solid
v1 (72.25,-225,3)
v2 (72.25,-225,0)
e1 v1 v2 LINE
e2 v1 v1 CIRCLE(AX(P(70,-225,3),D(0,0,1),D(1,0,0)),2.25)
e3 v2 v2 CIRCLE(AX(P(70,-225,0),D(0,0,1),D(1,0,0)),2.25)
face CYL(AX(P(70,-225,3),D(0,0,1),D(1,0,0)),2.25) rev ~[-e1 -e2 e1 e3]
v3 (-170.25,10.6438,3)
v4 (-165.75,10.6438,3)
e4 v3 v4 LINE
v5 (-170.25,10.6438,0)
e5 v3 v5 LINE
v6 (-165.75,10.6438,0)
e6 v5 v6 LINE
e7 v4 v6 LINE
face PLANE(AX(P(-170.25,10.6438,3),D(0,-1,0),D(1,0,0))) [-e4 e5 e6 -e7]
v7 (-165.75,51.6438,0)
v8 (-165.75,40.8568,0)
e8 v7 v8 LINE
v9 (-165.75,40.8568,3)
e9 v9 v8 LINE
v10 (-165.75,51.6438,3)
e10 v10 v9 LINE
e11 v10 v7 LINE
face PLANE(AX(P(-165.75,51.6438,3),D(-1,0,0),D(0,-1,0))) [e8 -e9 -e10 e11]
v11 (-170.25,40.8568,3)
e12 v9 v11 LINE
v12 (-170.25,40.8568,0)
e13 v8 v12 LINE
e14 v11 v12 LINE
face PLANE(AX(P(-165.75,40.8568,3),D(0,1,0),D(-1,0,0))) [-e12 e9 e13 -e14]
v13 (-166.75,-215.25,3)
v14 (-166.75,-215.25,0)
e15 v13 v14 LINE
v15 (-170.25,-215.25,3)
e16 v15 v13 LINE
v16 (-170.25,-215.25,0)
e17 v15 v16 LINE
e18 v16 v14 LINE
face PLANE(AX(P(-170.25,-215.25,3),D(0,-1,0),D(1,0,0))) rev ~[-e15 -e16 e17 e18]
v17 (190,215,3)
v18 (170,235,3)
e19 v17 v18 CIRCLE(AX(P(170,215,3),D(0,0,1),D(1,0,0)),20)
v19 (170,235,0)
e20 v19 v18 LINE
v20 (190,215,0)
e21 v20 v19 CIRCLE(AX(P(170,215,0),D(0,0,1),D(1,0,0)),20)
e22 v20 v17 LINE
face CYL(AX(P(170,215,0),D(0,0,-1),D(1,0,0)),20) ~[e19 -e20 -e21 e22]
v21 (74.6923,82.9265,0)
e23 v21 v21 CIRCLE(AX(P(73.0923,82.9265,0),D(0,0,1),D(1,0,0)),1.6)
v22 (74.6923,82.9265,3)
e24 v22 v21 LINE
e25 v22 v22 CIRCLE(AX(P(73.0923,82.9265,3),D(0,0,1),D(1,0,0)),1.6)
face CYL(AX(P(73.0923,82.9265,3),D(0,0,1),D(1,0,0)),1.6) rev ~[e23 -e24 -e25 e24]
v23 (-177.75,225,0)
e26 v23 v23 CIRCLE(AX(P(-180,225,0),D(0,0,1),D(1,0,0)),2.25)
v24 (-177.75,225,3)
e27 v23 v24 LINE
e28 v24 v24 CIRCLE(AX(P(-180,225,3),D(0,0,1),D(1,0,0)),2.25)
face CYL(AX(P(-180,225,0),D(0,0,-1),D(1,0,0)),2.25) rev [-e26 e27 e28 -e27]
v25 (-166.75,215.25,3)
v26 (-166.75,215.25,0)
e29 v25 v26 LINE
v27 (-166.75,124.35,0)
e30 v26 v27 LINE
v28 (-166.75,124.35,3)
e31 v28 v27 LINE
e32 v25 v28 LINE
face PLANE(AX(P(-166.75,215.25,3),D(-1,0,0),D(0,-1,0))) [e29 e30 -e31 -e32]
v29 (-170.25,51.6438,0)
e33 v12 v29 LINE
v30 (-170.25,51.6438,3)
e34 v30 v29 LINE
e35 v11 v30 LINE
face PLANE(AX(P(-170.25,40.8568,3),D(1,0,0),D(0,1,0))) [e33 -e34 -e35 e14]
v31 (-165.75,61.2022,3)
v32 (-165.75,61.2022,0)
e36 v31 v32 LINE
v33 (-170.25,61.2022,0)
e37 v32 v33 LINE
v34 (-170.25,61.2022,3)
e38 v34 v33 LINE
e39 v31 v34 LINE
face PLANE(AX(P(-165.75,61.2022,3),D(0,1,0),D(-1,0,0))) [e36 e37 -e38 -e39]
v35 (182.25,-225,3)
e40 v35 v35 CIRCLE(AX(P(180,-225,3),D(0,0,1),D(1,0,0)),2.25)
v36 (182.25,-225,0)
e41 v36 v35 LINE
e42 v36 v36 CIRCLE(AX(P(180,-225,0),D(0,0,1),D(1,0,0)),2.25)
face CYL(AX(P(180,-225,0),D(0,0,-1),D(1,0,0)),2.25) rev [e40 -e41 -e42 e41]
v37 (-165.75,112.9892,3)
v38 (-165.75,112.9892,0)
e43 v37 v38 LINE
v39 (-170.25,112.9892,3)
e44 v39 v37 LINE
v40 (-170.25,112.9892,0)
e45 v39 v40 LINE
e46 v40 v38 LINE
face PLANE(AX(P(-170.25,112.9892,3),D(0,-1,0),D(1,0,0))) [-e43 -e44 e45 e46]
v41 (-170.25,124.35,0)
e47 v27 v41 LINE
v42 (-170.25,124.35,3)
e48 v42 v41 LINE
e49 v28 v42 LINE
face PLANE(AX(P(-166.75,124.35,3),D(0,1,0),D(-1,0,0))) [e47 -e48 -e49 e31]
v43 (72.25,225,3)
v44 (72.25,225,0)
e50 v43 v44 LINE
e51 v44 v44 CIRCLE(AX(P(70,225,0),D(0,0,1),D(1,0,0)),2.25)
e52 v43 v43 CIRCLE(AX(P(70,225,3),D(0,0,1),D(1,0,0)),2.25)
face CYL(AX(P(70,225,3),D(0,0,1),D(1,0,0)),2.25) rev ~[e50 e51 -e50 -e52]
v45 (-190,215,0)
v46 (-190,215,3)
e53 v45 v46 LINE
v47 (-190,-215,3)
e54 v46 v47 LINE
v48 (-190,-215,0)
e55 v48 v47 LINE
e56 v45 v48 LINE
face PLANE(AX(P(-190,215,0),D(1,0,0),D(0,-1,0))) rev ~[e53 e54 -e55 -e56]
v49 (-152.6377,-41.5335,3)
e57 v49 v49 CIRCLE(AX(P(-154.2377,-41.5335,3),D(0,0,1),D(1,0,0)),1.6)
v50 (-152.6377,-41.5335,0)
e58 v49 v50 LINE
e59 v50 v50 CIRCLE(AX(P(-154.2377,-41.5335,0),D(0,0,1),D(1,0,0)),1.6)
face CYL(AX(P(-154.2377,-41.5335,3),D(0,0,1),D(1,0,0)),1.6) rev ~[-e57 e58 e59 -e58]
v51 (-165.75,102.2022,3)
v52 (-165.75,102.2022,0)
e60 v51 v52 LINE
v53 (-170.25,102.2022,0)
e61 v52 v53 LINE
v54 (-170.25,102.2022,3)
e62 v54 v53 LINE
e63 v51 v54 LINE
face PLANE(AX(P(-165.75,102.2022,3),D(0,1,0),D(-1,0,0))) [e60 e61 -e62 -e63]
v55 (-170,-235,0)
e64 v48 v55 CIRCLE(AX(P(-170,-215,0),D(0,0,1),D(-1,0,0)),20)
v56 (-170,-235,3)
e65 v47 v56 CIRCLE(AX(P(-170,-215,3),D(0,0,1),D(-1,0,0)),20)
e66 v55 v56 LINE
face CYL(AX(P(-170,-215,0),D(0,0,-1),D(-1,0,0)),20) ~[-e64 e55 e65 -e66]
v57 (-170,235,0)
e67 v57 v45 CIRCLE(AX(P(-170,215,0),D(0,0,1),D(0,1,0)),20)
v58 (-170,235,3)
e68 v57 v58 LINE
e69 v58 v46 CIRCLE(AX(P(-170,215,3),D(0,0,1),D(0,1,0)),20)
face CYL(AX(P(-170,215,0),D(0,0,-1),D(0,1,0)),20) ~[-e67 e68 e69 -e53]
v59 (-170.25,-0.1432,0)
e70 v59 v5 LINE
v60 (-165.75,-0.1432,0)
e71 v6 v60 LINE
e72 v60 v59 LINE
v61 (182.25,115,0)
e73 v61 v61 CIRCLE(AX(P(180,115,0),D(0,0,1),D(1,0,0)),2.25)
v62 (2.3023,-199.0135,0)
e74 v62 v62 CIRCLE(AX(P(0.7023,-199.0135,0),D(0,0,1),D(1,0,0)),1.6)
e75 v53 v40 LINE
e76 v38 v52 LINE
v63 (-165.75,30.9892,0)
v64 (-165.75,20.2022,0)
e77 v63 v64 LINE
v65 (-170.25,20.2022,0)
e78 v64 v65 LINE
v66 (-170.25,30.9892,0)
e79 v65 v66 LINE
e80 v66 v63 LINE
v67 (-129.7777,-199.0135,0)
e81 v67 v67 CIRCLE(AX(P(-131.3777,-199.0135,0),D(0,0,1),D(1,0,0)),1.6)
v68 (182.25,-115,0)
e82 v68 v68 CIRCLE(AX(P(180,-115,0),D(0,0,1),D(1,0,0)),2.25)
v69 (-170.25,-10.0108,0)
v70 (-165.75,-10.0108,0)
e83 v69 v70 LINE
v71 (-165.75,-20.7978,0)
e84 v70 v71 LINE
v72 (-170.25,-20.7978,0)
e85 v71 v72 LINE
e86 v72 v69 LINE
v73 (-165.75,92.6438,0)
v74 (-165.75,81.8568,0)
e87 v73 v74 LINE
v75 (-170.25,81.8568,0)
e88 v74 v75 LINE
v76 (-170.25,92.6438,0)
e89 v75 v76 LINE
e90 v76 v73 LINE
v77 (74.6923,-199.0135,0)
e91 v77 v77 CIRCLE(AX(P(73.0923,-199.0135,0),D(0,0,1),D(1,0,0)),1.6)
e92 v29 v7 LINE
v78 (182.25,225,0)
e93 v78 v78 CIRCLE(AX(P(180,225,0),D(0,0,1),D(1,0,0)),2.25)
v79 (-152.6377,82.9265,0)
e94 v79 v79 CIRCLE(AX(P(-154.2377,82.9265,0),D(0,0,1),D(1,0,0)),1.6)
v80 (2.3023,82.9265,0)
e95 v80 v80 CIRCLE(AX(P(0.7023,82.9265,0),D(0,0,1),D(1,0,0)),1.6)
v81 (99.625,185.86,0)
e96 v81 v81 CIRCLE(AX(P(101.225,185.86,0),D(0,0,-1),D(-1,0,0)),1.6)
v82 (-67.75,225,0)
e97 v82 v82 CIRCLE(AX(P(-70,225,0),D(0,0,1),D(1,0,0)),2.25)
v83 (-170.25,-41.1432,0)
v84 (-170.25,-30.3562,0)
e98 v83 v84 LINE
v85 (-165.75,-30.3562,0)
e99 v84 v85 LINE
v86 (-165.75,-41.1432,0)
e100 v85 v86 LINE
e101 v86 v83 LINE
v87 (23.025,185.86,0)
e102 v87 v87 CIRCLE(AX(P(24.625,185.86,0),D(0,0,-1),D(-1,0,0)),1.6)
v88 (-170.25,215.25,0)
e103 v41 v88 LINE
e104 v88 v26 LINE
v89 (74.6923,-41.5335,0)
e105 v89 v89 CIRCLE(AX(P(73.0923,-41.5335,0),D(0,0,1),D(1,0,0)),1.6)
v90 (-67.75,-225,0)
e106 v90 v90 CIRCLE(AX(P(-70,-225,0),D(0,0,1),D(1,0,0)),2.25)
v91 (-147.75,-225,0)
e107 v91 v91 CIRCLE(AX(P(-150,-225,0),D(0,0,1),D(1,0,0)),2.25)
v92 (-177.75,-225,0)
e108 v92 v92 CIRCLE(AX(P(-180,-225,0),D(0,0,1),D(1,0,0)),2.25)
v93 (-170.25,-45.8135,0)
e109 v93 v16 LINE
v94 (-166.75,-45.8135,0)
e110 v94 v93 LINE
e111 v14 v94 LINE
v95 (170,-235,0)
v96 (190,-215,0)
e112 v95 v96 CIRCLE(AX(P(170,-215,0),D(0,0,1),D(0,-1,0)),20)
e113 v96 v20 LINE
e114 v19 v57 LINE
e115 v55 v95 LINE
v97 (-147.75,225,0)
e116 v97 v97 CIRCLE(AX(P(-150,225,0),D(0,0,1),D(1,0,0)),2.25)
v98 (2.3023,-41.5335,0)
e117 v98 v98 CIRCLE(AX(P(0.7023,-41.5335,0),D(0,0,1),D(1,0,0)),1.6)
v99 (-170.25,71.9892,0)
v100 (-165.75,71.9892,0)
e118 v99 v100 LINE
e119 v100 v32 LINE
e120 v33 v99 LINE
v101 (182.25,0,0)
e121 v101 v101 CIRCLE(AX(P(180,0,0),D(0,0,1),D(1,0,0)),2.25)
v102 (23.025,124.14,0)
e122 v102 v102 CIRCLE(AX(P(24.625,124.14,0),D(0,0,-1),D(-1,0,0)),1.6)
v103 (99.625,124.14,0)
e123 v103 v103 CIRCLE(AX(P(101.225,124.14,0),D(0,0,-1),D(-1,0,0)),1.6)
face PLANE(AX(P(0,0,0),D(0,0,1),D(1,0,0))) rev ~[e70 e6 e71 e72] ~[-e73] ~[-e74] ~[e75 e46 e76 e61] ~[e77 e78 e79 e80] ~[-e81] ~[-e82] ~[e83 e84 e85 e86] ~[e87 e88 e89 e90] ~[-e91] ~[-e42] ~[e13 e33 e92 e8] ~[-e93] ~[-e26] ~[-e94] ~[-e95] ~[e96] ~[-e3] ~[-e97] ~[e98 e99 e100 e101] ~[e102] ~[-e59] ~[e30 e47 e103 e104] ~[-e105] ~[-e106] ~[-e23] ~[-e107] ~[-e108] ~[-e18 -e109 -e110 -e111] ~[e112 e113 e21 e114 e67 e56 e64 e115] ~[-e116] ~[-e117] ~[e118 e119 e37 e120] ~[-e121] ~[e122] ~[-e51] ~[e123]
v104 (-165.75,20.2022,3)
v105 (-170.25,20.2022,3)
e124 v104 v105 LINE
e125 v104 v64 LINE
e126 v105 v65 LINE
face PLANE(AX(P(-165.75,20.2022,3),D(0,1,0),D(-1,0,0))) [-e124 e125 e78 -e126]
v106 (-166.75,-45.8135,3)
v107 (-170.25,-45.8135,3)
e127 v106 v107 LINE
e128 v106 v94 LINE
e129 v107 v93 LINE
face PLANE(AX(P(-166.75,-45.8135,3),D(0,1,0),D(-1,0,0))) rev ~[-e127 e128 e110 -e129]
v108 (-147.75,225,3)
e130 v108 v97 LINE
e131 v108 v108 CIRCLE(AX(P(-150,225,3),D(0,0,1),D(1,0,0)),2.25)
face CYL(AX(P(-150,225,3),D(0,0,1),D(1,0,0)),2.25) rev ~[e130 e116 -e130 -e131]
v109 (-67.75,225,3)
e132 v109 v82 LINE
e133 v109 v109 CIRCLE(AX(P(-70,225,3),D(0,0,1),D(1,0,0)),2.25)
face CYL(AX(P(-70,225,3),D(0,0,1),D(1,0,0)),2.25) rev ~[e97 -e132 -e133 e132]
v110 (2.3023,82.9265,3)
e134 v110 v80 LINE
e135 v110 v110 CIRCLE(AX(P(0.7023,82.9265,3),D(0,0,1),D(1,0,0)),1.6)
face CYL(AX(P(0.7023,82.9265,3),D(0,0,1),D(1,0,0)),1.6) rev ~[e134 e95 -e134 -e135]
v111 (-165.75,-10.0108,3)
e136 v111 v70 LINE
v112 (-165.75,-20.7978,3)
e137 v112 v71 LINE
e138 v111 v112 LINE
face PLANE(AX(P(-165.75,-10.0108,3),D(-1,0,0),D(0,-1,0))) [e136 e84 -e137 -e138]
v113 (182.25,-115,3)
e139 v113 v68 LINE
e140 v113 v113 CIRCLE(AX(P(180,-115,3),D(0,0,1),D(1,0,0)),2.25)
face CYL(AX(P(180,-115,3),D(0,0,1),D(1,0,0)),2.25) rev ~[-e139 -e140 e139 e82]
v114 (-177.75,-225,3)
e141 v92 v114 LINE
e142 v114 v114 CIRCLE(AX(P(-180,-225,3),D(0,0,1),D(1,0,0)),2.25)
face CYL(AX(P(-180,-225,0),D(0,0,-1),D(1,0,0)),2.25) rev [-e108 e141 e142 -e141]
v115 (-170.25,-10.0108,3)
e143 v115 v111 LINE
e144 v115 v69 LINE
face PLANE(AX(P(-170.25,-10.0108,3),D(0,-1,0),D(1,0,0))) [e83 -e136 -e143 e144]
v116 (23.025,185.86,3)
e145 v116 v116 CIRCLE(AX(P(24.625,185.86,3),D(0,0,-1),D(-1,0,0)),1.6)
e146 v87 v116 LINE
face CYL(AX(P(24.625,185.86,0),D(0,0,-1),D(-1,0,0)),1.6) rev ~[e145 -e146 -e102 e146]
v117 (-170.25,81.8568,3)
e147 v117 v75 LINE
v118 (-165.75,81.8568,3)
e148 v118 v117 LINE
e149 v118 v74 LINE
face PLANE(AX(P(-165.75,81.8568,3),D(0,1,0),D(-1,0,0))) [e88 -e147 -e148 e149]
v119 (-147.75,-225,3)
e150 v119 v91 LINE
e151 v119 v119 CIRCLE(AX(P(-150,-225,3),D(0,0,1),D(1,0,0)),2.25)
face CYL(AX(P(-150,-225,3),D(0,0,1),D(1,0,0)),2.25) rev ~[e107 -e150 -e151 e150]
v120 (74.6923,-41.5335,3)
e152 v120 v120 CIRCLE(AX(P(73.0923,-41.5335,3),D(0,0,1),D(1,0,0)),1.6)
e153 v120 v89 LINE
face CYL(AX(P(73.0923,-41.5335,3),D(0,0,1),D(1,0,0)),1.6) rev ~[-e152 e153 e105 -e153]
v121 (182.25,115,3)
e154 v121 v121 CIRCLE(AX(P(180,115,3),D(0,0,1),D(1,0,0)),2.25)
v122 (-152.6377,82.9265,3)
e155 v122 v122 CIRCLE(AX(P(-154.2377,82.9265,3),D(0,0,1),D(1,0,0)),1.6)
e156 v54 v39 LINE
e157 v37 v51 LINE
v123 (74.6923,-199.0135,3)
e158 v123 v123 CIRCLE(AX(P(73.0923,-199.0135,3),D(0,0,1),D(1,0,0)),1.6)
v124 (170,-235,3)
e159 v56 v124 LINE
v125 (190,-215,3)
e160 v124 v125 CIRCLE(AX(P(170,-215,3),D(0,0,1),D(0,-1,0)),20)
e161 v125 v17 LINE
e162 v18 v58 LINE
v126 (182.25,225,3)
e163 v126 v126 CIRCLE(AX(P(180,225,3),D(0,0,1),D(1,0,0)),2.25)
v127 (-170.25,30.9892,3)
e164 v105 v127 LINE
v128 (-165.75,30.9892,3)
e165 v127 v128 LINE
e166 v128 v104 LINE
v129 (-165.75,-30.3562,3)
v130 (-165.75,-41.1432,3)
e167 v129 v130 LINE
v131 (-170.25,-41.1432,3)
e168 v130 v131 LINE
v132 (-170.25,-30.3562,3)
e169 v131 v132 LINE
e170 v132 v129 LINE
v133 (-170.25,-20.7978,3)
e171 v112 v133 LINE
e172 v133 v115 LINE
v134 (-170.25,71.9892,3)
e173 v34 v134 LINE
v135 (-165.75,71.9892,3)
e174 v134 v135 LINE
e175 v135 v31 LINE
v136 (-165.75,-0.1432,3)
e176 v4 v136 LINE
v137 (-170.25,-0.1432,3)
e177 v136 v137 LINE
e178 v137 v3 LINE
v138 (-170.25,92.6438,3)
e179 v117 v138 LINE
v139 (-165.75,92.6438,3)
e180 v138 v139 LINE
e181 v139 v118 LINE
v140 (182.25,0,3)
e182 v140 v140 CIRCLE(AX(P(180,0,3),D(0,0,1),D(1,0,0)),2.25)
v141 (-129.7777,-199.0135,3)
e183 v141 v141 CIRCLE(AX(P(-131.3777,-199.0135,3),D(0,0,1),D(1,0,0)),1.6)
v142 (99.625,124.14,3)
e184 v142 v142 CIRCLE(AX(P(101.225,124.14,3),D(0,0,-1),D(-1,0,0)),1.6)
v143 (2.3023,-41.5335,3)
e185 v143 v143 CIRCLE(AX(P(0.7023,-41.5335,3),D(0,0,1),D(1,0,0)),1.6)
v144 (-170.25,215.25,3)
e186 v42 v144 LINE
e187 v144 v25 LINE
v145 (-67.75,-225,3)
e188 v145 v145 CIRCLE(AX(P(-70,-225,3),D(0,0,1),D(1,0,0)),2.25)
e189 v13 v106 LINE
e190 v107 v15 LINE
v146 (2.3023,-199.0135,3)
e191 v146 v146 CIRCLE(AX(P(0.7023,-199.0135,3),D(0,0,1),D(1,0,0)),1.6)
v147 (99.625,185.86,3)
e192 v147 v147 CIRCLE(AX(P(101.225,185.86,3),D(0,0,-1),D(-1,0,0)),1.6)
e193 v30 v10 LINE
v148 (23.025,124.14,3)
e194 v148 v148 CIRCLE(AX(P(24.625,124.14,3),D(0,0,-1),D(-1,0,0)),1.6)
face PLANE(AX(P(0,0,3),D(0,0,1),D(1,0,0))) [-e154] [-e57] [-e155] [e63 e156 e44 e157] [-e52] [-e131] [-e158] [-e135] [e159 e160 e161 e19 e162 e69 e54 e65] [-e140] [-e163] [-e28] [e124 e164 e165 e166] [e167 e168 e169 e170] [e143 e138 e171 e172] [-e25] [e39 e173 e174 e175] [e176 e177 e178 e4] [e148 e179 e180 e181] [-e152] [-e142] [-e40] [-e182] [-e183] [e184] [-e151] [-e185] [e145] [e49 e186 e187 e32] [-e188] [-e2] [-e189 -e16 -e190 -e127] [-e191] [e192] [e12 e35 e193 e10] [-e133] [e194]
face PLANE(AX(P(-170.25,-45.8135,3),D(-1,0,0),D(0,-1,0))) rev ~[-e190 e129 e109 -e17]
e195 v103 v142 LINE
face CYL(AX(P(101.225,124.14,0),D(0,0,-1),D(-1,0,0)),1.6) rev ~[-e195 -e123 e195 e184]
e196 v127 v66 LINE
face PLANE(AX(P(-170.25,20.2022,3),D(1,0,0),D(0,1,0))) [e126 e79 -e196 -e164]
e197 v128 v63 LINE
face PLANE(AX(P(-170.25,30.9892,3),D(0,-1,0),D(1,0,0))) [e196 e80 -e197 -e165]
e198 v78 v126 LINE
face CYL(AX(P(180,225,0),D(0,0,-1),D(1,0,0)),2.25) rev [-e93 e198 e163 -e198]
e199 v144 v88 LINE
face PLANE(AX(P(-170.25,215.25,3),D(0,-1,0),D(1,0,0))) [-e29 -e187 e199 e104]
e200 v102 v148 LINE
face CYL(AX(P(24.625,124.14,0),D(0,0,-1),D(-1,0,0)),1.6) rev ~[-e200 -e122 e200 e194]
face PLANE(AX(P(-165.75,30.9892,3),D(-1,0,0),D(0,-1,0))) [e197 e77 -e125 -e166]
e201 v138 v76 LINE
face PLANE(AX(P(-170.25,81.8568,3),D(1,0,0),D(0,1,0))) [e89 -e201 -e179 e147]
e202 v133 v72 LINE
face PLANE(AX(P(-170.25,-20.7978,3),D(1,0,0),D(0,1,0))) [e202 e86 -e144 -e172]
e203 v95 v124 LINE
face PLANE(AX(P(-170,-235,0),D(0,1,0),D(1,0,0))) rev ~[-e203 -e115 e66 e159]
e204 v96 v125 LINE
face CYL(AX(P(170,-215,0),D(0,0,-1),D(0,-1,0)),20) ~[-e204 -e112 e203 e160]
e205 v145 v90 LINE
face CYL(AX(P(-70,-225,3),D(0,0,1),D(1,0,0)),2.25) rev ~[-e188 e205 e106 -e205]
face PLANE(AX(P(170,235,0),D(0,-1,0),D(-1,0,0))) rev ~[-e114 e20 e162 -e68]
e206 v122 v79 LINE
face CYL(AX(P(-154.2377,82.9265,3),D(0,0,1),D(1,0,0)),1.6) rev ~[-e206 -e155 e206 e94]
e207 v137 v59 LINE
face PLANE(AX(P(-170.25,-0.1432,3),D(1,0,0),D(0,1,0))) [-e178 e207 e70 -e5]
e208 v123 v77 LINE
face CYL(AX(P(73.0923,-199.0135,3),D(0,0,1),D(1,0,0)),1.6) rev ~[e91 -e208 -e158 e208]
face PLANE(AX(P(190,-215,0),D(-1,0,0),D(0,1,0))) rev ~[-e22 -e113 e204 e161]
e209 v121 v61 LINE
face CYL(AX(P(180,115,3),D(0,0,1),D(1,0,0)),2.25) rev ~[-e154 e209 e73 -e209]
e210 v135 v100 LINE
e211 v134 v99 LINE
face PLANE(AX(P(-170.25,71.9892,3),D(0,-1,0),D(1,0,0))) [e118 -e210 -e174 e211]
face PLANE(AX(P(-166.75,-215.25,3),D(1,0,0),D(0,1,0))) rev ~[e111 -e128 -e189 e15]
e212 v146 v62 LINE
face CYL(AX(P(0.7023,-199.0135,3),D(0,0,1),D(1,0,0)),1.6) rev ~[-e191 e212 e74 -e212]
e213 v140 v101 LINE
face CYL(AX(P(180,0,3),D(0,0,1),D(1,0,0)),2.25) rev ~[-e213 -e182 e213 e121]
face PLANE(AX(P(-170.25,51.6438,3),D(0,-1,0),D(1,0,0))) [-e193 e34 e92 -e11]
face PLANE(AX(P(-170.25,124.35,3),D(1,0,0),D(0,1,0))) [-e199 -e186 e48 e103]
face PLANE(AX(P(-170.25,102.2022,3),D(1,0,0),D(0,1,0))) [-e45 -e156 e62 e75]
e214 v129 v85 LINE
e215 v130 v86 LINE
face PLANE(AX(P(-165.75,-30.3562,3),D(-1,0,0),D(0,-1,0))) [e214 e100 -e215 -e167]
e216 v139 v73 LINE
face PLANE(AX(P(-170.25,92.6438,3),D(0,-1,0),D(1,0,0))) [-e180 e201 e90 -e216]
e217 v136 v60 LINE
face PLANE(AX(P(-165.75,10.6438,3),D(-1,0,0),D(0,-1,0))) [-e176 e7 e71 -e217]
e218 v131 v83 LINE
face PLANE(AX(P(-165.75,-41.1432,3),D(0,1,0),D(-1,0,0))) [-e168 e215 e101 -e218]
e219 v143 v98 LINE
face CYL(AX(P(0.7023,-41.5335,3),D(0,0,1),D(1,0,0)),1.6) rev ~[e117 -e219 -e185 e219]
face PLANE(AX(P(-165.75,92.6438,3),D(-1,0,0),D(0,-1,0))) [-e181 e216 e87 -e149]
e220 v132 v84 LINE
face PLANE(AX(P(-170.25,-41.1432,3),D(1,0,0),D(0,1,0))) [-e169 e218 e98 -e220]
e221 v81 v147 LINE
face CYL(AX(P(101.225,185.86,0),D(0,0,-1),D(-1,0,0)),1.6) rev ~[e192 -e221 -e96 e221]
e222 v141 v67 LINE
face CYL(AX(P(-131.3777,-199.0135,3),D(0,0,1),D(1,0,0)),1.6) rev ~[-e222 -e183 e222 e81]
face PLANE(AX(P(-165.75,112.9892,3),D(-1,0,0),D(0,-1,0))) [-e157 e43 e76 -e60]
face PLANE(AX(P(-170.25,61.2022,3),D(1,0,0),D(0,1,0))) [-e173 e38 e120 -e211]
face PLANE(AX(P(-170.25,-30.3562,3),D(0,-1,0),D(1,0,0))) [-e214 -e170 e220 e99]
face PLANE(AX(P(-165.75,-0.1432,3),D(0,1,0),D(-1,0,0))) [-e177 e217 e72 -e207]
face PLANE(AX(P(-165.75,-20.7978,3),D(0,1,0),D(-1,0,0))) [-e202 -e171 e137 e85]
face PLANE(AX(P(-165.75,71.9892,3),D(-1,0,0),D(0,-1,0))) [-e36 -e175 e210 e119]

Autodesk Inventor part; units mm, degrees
ref_plane "YZ Plane" through (0, 0, 0) normal (1, 0, 0) x (0, 1, 0)
ref_plane "XZ Plane" through (0, 0, 0) normal (0, 1, 0) x (-1, 0, 0)
ref_plane "XY Plane" through (0, 0, 0) normal (0, 0, 1) x (1, 0, 0)
sketch "スケッチ1" plane through (0, 0, 0) normal (0, 0, 1) x (1, 0, 0)
  line L0 (-170, -235) -> (170, -235)
  line L1 (190, -215) -> (190, 215)
  line L2 (170, 235) -> (-170, 235)
  line L3 (-190, 215) -> (-190, -215)
  line L4 (-190, -235) -> (190, 235) construction
  line L5 (190, -235) -> (-190, 235) construction
  circle A0 centre (-180, 225) radius 2.25
  circle A1 centre (180, 225) radius 2.25
  circle A2 centre (-180, -225) radius 2.25
  circle A3 centre (180, -225) radius 2.25
  arc A4 (-170, 235) -> (-190, 215) centre (-170, 215) ccw
  arc A5 (190, 215) -> (170, 235) centre (170, 215) ccw
  arc A6 (170, -235) -> (190, -215) centre (170, -215) ccw
  arc A7 (-190, -215) -> (-170, -235) centre (-170, -215) ccw
  point P0 (0, 0)
  dimension "d0" = 380
  dimension "d1" = 470
  dimension "d2" = 4.5
  dimension "d3" = 10
  dimension "d4" = 10
  dimension "d5" = 10
  dimension "d6" = 10
  dimension "d7" = 10
  dimension "d8" = 10
  dimension "d9" = 10
  dimension "d10" = 10
  dimension "d11" = 20
extrude "押し出し1" add sketch "スケッチ1" along normal blind 3
sketch "スケッチ2" plane through (0, 0, 3) normal (0, 0, 1) x (1, 0, 0)
  circle A0 centre (73.0923, -199.0135) radius 2.25 construction
  circle A1 centre (-131.3777, -199.0135) radius 2.25 construction
  circle A2 centre (73.0923, -41.5335) radius 2.25 construction
  circle A3 centre (73.0923, 82.9265) radius 2.25 construction
  circle A4 centre (0.7023, -199.0135) radius 2.25 construction
  circle A5 centre (0.7023, -41.5335) radius 2.25 construction
  circle A6 centre (0.7023, 82.9265) radius 2.25 construction
  circle A7 centre (-154.2377, -41.5335) radius 2.25 construction
  circle A8 centre (-154.2377, 82.9265) radius 2.25 construction
  circle A9 centre (73.0923, 82.9265) radius 1.6
  circle A10 centre (0.7023, 82.9265) radius 1.6
  circle A11 centre (-154.2377, 82.9265) radius 1.6
  circle A12 centre (-154.2377, -41.5335) radius 1.6
  circle A13 centre (-131.3777, -199.0135) radius 1.6
  circle A14 centre (0.7023, -199.0135) radius 1.6
  circle A15 centre (73.0923, -199.0135) radius 1.6
  circle A16 centre (73.0923, -41.5335) radius 1.6
  circle A17 centre (0.7023, -41.5335) radius 1.6
  point P0 (0, 0)
  dimension "d14" = 3.2
extrude "押し出し2" cut sketch "スケッチ2" against normal blind 3
sketch "スケッチ4" plane through (0, 0, 3) normal (0, 0, 1) x (1, 0, 0)
  line L0 (-170, -215) -> (-170, -46.0635) projected
  line L1 (-170, -215) -> (-167, -215) projected
  line L2 (-167, -46.0635) -> (-167, -215) projected
  line L3 (-170, -46.0635) -> (-167, -46.0635) projected
  line L4 (-170, -40.8932) -> (-170, -30.6062) projected
  line L5 (-170, -40.8932) -> (-167, -40.8932) projected
  line L6 (-167, -30.6062) -> (-167, -40.8932) projected
  line L7 (-170, -30.6062) -> (-167, -30.6062) projected
  line L8 (-170, -20.5478) -> (-170, -10.2608) projected
  line L9 (-170, -20.5478) -> (-167, -20.5478) projected
  line L10 (-167, -10.2608) -> (-167, -20.5478) projected
  line L11 (-170, -10.2608) -> (-167, -10.2608) projected
  line L12 (-170, 0.1068) -> (-170, 10.3938) projected
  line L13 (-170, 0.1068) -> (-167, 0.1068) projected
  line L14 (-167, 10.3938) -> (-167, 0.1068) projected
  line L15 (-170, 10.3938) -> (-167, 10.3938) projected
  line L16 (-170, 20.4522) -> (-170, 30.7392) projected
  line L17 (-170, 20.4522) -> (-167, 20.4522) projected
  line L18 (-167, 30.7392) -> (-167, 20.4522) projected
  line L19 (-170, 30.7392) -> (-167, 30.7392) projected
  line L20 (-170, 41.1068) -> (-170, 51.3938) projected
  line L21 (-170, 41.1068) -> (-167, 41.1068) projected
  line L22 (-167, 51.3938) -> (-167, 41.1068) projected
  line L23 (-170, 51.3938) -> (-167, 51.3938) projected
  line L24 (-170, 61.4522) -> (-170, 71.7392) projected
  line L25 (-170, 61.4522) -> (-167, 61.4522) projected
  line L26 (-167, 71.7392) -> (-167, 61.4522) projected
  line L27 (-170, 71.7392) -> (-167, 71.7392) projected
  line L28 (-170, 82.1068) -> (-170, 92.3938) projected
  line L29 (-170, 82.1068) -> (-167, 82.1068) projected
  line L30 (-167, 92.3938) -> (-167, 82.1068) projected
  line L31 (-170, 92.3938) -> (-167, 92.3938) projected
  line L32 (-170, 102.4522) -> (-170, 112.7392) projected
  line L33 (-170, 102.4522) -> (-167, 102.4522) projected
  line L34 (-167, 112.7392) -> (-167, 102.4522) projected
  line L35 (-170, 112.7392) -> (-167, 112.7392) projected
  line L36 (-170, 215) -> (-170, 124.6) projected
  line L37 (-170, 124.6) -> (-167, 124.6) projected
  line L38 (-167, 215) -> (-167, 124.6) projected
  line L39 (-170, 215) -> (-167, 215) projected
  line L40 (-167, 112.7392) -> (-166, 112.7392)
  line L41 (-166, 112.7392) -> (-166, 102.4522)
  line L42 (-166, 102.4522) -> (-167, 102.4522)
  line L43 (-167, 92.3938) -> (-166, 92.3938)
  line L44 (-166, 92.3938) -> (-166, 82.1068)
  line L45 (-166, 82.1068) -> (-167, 82.1068)
  line L46 (-167, 71.7392) -> (-166, 71.7392)
  line L47 (-166, 71.7392) -> (-166, 61.4522)
  line L48 (-166, 61.4522) -> (-167, 61.4522)
  line L49 (-167, 51.3938) -> (-166, 51.3938)
  line L50 (-166, 51.3938) -> (-166, 41.1068)
  line L51 (-166, 41.1068) -> (-167, 41.1068)
  line L52 (-167, 30.7392) -> (-166, 30.7392)
  line L53 (-166, 30.7392) -> (-166, 20.4522)
  line L54 (-166, 20.4522) -> (-167, 20.4522)
  line L55 (-167, 10.3938) -> (-166, 10.3938)
  line L56 (-166, 10.3938) -> (-166, 0.1068)
  line L57 (-166, 0.1068) -> (-167, 0.1068)
  line L58 (-167, -10.2608) -> (-166, -10.2608)
  line L59 (-166, -10.2608) -> (-166, -20.5478)
  line L60 (-166, -20.5478) -> (-167, -20.5478)
  line L61 (-167, -30.6062) -> (-166, -30.6062)
  line L62 (-166, -30.6062) -> (-166, -40.8932)
  line L63 (-166, -40.8932) -> (-167, -40.8932)
  point P0 (0, 0)
  dimension "d17" = 1
extrude "押し出し3" cut sketch "スケッチ4" against normal blind 3
sketch "スケッチ5" plane through (0, 0, 3) normal (0, 0, 1) x (1, 0, 0)
  circle A0 centre (-180, 225) radius 2.25 construction
  circle A1 centre (-180, -225) radius 2.25 construction
  circle A2 centre (-150, -225) radius 2.25
  line L0 (-170, -235) -> (170, -235) projected
  circle A3 centre (-150, 225) radius 2.25
  line L1 (170, 235) -> (-170, 235) projected
  point P0 (0, 0)
  dimension "d20" = 30
  dimension "d21" = 10
  dimension "d22" = 30
  dimension "d23" = 10
extrude "押し出し4" cut sketch "スケッチ5" against normal blind 3
sketch "スケッチ6" plane through (0, 0, 3) normal (0, 0, 1) x (1, 0, 0)
  circle A0 centre (-150, -225) radius 2.25 construction
  circle A1 centre (-150, 225) radius 2.25 construction
  line L0 (-167, 124.6) -> (-170, 124.6) construction
  line L1 (-170, 124.6) -> (-170, 215) construction
  line L2 (-170, 215) -> (-167, 215) construction
  line L3 (-167, 215) -> (-167, 124.6) construction
  line L4 (-166, 92.3938) -> (-166, 82.1068) construction
  line L5 (-166, 82.1068) -> (-170, 82.1068) construction
  line L6 (-170, 82.1068) -> (-170, 92.3938) construction
  line L7 (-170, 92.3938) -> (-166, 92.3938) construction
  line L8 (-166, 51.3938) -> (-166, 41.1068) construction
  line L9 (-166, 41.1068) -> (-170, 41.1068) construction
  line L10 (-170, 41.1068) -> (-170, 51.3938) construction
  line L11 (-170, 51.3938) -> (-166, 51.3938) construction
  line L12 (-166, 10.3938) -> (-166, 0.1068) construction
  line L13 (-166, 0.1068) -> (-170, 0.1068) construction
  line L14 (-170, 0.1068) -> (-170, 10.3938) construction
  line L15 (-170, 10.3938) -> (-166, 10.3938) construction
  line L16 (-166, -30.6062) -> (-166, -40.8932) construction
  line L17 (-166, -40.8932) -> (-170, -40.8932) construction
  line L18 (-170, -40.8932) -> (-170, -30.6062) construction
  line L19 (-170, -30.6062) -> (-166, -30.6062) construction
  line L20 (-166, -10.2608) -> (-166, -20.5478) construction
  line L21 (-166, -20.5478) -> (-170, -20.5478) construction
  line L22 (-170, -20.5478) -> (-170, -10.2608) construction
  line L23 (-170, -10.2608) -> (-166, -10.2608) construction
  line L24 (-166, 30.7392) -> (-166, 20.4522) construction
  line L25 (-166, 20.4522) -> (-170, 20.4522) construction
  line L26 (-170, 20.4522) -> (-170, 30.7392) construction
  line L27 (-170, 30.7392) -> (-166, 30.7392) construction
  line L28 (-166, 71.7392) -> (-166, 61.4522) construction
  line L29 (-166, 61.4522) -> (-170, 61.4522) construction
  line L30 (-170, 61.4522) -> (-170, 71.7392) construction
  line L31 (-170, 71.7392) -> (-166, 71.7392) construction
  line L32 (-166, 112.7392) -> (-166, 102.4522) construction
  line L33 (-166, 102.4522) -> (-170, 102.4522) construction
  line L34 (-170, 102.4522) -> (-170, 112.7392) construction
  line L35 (-170, 112.7392) -> (-166, 112.7392) construction
  line L36 (-167, -215) -> (-170, -215) construction
  line L37 (-170, -215) -> (-170, -46.0635) construction
  line L38 (-170, -46.0635) -> (-167, -46.0635) construction
  line L39 (-167, -46.0635) -> (-167, -215) construction
  circle A2 centre (73.0923, -41.5335) radius 1.6 construction
  circle A3 centre (0.7023, -199.0135) radius 1.6 construction
  circle A4 centre (-154.2377, -41.5335) radius 1.6 construction
  circle A5 centre (0.7023, 82.9265) radius 1.6 construction
  circle A6 centre (73.0923, 82.9265) radius 1.6 construction
  circle A7 centre (-154.2377, 82.9265) radius 1.6 construction
  circle A8 centre (-131.3777, -199.0135) radius 1.6 construction
  circle A9 centre (73.0923, -199.0135) radius 1.6 construction
  circle A10 centre (0.7023, -41.5335) radius 1.6 construction
  circle A11 centre (180, -225) radius 2.25 construction
  circle A12 centre (-180, -225) radius 2.25 construction
  circle A13 centre (180, 225) radius 2.25 construction
  circle A14 centre (-180, 225) radius 2.25 construction
  line L40 (170, 235) -> (-170, 235) construction
  arc A15 (-170, 235) -> (-190, 215) centre (-170, 215) ccw construction
  line L41 (-190, 215) -> (-190, -215) construction
  arc A16 (-190, -215) -> (-170, -235) centre (-170, -215) ccw construction
  line L42 (-170, -235) -> (170, -235) construction
  arc A17 (170, -235) -> (190, -215) centre (170, -215) ccw construction
  line L43 (190, -215) -> (190, 215) construction
  arc A18 (190, 215) -> (170, 235) centre (170, 215) ccw construction
  line L44 (-166.75, 124.35) -> (-170.25, 124.35)
  line L45 (-170.25, 124.35) -> (-170.25, 215.25)
  line L46 (-170.25, 215.25) -> (-166.75, 215.25)
  line L47 (-166.75, 215.25) -> (-166.75, 124.35)
  line L48 (-165.75, 112.9892) -> (-165.75, 102.2022)
  line L49 (-165.75, 102.2022) -> (-170.25, 102.2022)
  line L50 (-170.25, 102.2022) -> (-170.25, 112.9892)
  line L51 (-170.25, 112.9892) -> (-165.75, 112.9892)
  line L52 (-165.75, 92.6438) -> (-165.75, 81.8568)
  line L53 (-165.75, 81.8568) -> (-170.25, 81.8568)
  line L54 (-170.25, 81.8568) -> (-170.25, 92.6438)
  line L55 (-170.25, 92.6438) -> (-165.75, 92.6438)
  line L56 (-165.75, 71.9892) -> (-165.75, 61.2022)
  line L57 (-165.75, 61.2022) -> (-170.25, 61.2022)
  line L58 (-170.25, 61.2022) -> (-170.25, 71.9892)
  line L59 (-170.25, 71.9892) -> (-165.75, 71.9892)
  line L60 (-165.75, 51.6438) -> (-165.75, 40.8568)
  line L61 (-165.75, 40.8568) -> (-170.25, 40.8568)
  line L62 (-170.25, 40.8568) -> (-170.25, 51.6438)
  line L63 (-170.25, 51.6438) -> (-165.75, 51.6438)
  line L64 (-165.75, 30.9892) -> (-165.75, 20.2022)
  line L65 (-165.75, 20.2022) -> (-170.25, 20.2022)
  line L66 (-170.25, 20.2022) -> (-170.25, 30.9892)
  line L67 (-170.25, 30.9892) -> (-165.75, 30.9892)
  line L68 (-165.75, 10.6438) -> (-165.75, -0.1432)
  line L69 (-165.75, -0.1432) -> (-170.25, -0.1432)
  line L70 (-170.25, -0.1432) -> (-170.25, 10.6438)
  line L71 (-170.25, 10.6438) -> (-165.75, 10.6438)
  line L72 (-165.75, -10.0108) -> (-165.75, -20.7978)
  line L73 (-165.75, -20.7978) -> (-170.25, -20.7978)
  line L74 (-170.25, -20.7978) -> (-170.25, -10.0108)
  line L75 (-170.25, -10.0108) -> (-165.75, -10.0108)
  line L76 (-165.75, -30.3562) -> (-165.75, -41.1432)
  line L77 (-165.75, -41.1432) -> (-170.25, -41.1432)
  line L78 (-170.25, -41.1432) -> (-170.25, -30.3562)
  line L79 (-170.25, -30.3562) -> (-165.75, -30.3562)
  line L80 (-166.75, -45.8135) -> (-170.25, -45.8135)
  line L81 (-170.25, -45.8135) -> (-170.25, -215.25)
  line L82 (-170.25, -215.25) -> (-166.75, -215.25)
  line L83 (-166.75, -215.25) -> (-166.75, -45.8135)
  point P0 (0, 0)
  dimension "d26" = 0.25
  dimension "d27" = 0.25
  dimension "d28" = 0.25
  dimension "d29" = 0.25
  dimension "d30" = 0.25
  dimension "d31" = 0.25
  dimension "d32" = 0.25
  dimension "d33" = 0.25
  dimension "d34" = 0.25
  dimension "d35" = 0.25
extrude "押し出し5" cut sketch "スケッチ6" against normal through all
sketch "スケッチ7" plane through (0, 0, 3) normal (0, 0, 1) x (1, 0, 0)
  line L0 (190, 215) -> (190, -215) projected
  circle A0 centre (-70, -225) radius 2.25 projected
  circle A1 centre (180, 0) radius 2.25 projected
  circle A2 centre (70, -225) radius 2.25 projected
  circle A3 centre (180, 115) radius 2.25 projected
  circle A4 centre (-70, 225) radius 2.25 projected
  circle A5 centre (-180, -115) radius 2.25 projected
  circle A6 centre (-180, 0) radius 2.25 projected
  circle A7 centre (70, 225) radius 2.25 projected
  circle A8 centre (180, -115) radius 2.25 projected
  line L1 (-170.2, 124.4) -> (-166.8, 124.4) projected
  line L2 (-166.8, 124.4) -> (-166.8, 215.2) projected
  line L3 (-166.8, 215.2) -> (-170.2, 215.2) projected
  line L4 (-170.2, 215.2) -> (-170.2, 124.4) projected
  circle A9 centre (-180, 115) radius 2.25 projected
  circle A10 centre (180, 225) radius 2.25 projected
  circle A11 centre (-180, 225) radius 2.25 projected
  circle A12 centre (180, -225) radius 2.25 projected
  circle A13 centre (-180, -225) radius 2.25 projected
  line L5 (170, -235) -> (-170, -235) projected
  arc A14 (-190, -215) -> (-170, -235) centre (-170, -215) ccw projected
  line L6 (-190, -215) -> (-190, 215) projected
  arc A15 (-170, 235) -> (-190, 215) centre (-170, 215) ccw projected
  line L7 (-170, 235) -> (170, 235) projected
  arc A16 (190, 215) -> (170, 235) centre (170, 215) ccw projected
  line L8 (190, 215) -> (190, -215) projected
  arc A17 (170, -235) -> (190, -215) centre (170, -215) ccw projected
  point P0 (0, 0)
extrude "押し出し6" cut sketch "スケッチ7" against normal up to surface (3 mm away) contours A0 | A1 | A2 | A3 | A4 | A7 | A8
sketch "スケッチ8" plane through (0, 0, 0) normal (0, 0, -1) x (-1, 0, 0)
  line L0 (-14.775, 120.075) -> (-115.225, 120.075) construction
  line L1 (-115.225, 120.075) -> (-115.225, 189.925) construction
  line L2 (-115.225, 189.925) -> (-14.775, 189.925) construction
  line L3 (-14.775, 189.925) -> (-14.775, 120.075) construction
  line L4 (-14.775, 120.075) -> (-115.225, 189.925) construction
  line L5 (-115.225, 120.075) -> (-14.775, 189.925) construction
  line L6 (170, 235) -> (-170, 235) construction
  line L7 (-190, 215) -> (-190, -215) construction
  line L8 (-24.625, 185.86) -> (-101.225, 185.86) construction
  line L9 (-101.225, 185.86) -> (-101.225, 124.14) construction
  line L10 (-101.225, 124.14) -> (-24.625, 124.14) construction
  line L11 (-24.625, 124.14) -> (-24.625, 185.86) construction
  line L12 (-24.625, 185.86) -> (-101.225, 124.14) construction
  line L13 (-101.225, 185.86) -> (-24.625, 124.14) construction
  line L14 (-62.925, 155) -> (-65, 155) construction
  circle A0 centre (-24.625, 124.14) radius 1.6
  circle A1 centre (-24.625, 185.86) radius 1.6
  circle A2 centre (-101.225, 185.86) radius 1.6
  circle A3 centre (-101.225, 124.14) radius 1.6
  point P0 (0, 0)
  dimension "d40" = 69.85
  dimension "d41" = 100.45
  dimension "d42" = 80
  dimension "d43" = 125
  dimension "d44" = 61.72
  dimension "d45" = 90.6
  dimension "d46" = 14
  dimension "d47" = 3.2
  dimension "d48" = 3.2
  dimension "d49" = 3.2
  dimension "d50" = 3.2
extrude "押し出し7" cut sketch "スケッチ8" against normal through all
equation "\"d5\" = d3"
equation "\"d6\" = d4"
equation "\"d7\" = d6"
equation "\"d8\" = d5"
equation "\"d9\" = d8"
equation "\"d10\" = d7"
properties part number "right_panel" material "アルミニウム 6061"
